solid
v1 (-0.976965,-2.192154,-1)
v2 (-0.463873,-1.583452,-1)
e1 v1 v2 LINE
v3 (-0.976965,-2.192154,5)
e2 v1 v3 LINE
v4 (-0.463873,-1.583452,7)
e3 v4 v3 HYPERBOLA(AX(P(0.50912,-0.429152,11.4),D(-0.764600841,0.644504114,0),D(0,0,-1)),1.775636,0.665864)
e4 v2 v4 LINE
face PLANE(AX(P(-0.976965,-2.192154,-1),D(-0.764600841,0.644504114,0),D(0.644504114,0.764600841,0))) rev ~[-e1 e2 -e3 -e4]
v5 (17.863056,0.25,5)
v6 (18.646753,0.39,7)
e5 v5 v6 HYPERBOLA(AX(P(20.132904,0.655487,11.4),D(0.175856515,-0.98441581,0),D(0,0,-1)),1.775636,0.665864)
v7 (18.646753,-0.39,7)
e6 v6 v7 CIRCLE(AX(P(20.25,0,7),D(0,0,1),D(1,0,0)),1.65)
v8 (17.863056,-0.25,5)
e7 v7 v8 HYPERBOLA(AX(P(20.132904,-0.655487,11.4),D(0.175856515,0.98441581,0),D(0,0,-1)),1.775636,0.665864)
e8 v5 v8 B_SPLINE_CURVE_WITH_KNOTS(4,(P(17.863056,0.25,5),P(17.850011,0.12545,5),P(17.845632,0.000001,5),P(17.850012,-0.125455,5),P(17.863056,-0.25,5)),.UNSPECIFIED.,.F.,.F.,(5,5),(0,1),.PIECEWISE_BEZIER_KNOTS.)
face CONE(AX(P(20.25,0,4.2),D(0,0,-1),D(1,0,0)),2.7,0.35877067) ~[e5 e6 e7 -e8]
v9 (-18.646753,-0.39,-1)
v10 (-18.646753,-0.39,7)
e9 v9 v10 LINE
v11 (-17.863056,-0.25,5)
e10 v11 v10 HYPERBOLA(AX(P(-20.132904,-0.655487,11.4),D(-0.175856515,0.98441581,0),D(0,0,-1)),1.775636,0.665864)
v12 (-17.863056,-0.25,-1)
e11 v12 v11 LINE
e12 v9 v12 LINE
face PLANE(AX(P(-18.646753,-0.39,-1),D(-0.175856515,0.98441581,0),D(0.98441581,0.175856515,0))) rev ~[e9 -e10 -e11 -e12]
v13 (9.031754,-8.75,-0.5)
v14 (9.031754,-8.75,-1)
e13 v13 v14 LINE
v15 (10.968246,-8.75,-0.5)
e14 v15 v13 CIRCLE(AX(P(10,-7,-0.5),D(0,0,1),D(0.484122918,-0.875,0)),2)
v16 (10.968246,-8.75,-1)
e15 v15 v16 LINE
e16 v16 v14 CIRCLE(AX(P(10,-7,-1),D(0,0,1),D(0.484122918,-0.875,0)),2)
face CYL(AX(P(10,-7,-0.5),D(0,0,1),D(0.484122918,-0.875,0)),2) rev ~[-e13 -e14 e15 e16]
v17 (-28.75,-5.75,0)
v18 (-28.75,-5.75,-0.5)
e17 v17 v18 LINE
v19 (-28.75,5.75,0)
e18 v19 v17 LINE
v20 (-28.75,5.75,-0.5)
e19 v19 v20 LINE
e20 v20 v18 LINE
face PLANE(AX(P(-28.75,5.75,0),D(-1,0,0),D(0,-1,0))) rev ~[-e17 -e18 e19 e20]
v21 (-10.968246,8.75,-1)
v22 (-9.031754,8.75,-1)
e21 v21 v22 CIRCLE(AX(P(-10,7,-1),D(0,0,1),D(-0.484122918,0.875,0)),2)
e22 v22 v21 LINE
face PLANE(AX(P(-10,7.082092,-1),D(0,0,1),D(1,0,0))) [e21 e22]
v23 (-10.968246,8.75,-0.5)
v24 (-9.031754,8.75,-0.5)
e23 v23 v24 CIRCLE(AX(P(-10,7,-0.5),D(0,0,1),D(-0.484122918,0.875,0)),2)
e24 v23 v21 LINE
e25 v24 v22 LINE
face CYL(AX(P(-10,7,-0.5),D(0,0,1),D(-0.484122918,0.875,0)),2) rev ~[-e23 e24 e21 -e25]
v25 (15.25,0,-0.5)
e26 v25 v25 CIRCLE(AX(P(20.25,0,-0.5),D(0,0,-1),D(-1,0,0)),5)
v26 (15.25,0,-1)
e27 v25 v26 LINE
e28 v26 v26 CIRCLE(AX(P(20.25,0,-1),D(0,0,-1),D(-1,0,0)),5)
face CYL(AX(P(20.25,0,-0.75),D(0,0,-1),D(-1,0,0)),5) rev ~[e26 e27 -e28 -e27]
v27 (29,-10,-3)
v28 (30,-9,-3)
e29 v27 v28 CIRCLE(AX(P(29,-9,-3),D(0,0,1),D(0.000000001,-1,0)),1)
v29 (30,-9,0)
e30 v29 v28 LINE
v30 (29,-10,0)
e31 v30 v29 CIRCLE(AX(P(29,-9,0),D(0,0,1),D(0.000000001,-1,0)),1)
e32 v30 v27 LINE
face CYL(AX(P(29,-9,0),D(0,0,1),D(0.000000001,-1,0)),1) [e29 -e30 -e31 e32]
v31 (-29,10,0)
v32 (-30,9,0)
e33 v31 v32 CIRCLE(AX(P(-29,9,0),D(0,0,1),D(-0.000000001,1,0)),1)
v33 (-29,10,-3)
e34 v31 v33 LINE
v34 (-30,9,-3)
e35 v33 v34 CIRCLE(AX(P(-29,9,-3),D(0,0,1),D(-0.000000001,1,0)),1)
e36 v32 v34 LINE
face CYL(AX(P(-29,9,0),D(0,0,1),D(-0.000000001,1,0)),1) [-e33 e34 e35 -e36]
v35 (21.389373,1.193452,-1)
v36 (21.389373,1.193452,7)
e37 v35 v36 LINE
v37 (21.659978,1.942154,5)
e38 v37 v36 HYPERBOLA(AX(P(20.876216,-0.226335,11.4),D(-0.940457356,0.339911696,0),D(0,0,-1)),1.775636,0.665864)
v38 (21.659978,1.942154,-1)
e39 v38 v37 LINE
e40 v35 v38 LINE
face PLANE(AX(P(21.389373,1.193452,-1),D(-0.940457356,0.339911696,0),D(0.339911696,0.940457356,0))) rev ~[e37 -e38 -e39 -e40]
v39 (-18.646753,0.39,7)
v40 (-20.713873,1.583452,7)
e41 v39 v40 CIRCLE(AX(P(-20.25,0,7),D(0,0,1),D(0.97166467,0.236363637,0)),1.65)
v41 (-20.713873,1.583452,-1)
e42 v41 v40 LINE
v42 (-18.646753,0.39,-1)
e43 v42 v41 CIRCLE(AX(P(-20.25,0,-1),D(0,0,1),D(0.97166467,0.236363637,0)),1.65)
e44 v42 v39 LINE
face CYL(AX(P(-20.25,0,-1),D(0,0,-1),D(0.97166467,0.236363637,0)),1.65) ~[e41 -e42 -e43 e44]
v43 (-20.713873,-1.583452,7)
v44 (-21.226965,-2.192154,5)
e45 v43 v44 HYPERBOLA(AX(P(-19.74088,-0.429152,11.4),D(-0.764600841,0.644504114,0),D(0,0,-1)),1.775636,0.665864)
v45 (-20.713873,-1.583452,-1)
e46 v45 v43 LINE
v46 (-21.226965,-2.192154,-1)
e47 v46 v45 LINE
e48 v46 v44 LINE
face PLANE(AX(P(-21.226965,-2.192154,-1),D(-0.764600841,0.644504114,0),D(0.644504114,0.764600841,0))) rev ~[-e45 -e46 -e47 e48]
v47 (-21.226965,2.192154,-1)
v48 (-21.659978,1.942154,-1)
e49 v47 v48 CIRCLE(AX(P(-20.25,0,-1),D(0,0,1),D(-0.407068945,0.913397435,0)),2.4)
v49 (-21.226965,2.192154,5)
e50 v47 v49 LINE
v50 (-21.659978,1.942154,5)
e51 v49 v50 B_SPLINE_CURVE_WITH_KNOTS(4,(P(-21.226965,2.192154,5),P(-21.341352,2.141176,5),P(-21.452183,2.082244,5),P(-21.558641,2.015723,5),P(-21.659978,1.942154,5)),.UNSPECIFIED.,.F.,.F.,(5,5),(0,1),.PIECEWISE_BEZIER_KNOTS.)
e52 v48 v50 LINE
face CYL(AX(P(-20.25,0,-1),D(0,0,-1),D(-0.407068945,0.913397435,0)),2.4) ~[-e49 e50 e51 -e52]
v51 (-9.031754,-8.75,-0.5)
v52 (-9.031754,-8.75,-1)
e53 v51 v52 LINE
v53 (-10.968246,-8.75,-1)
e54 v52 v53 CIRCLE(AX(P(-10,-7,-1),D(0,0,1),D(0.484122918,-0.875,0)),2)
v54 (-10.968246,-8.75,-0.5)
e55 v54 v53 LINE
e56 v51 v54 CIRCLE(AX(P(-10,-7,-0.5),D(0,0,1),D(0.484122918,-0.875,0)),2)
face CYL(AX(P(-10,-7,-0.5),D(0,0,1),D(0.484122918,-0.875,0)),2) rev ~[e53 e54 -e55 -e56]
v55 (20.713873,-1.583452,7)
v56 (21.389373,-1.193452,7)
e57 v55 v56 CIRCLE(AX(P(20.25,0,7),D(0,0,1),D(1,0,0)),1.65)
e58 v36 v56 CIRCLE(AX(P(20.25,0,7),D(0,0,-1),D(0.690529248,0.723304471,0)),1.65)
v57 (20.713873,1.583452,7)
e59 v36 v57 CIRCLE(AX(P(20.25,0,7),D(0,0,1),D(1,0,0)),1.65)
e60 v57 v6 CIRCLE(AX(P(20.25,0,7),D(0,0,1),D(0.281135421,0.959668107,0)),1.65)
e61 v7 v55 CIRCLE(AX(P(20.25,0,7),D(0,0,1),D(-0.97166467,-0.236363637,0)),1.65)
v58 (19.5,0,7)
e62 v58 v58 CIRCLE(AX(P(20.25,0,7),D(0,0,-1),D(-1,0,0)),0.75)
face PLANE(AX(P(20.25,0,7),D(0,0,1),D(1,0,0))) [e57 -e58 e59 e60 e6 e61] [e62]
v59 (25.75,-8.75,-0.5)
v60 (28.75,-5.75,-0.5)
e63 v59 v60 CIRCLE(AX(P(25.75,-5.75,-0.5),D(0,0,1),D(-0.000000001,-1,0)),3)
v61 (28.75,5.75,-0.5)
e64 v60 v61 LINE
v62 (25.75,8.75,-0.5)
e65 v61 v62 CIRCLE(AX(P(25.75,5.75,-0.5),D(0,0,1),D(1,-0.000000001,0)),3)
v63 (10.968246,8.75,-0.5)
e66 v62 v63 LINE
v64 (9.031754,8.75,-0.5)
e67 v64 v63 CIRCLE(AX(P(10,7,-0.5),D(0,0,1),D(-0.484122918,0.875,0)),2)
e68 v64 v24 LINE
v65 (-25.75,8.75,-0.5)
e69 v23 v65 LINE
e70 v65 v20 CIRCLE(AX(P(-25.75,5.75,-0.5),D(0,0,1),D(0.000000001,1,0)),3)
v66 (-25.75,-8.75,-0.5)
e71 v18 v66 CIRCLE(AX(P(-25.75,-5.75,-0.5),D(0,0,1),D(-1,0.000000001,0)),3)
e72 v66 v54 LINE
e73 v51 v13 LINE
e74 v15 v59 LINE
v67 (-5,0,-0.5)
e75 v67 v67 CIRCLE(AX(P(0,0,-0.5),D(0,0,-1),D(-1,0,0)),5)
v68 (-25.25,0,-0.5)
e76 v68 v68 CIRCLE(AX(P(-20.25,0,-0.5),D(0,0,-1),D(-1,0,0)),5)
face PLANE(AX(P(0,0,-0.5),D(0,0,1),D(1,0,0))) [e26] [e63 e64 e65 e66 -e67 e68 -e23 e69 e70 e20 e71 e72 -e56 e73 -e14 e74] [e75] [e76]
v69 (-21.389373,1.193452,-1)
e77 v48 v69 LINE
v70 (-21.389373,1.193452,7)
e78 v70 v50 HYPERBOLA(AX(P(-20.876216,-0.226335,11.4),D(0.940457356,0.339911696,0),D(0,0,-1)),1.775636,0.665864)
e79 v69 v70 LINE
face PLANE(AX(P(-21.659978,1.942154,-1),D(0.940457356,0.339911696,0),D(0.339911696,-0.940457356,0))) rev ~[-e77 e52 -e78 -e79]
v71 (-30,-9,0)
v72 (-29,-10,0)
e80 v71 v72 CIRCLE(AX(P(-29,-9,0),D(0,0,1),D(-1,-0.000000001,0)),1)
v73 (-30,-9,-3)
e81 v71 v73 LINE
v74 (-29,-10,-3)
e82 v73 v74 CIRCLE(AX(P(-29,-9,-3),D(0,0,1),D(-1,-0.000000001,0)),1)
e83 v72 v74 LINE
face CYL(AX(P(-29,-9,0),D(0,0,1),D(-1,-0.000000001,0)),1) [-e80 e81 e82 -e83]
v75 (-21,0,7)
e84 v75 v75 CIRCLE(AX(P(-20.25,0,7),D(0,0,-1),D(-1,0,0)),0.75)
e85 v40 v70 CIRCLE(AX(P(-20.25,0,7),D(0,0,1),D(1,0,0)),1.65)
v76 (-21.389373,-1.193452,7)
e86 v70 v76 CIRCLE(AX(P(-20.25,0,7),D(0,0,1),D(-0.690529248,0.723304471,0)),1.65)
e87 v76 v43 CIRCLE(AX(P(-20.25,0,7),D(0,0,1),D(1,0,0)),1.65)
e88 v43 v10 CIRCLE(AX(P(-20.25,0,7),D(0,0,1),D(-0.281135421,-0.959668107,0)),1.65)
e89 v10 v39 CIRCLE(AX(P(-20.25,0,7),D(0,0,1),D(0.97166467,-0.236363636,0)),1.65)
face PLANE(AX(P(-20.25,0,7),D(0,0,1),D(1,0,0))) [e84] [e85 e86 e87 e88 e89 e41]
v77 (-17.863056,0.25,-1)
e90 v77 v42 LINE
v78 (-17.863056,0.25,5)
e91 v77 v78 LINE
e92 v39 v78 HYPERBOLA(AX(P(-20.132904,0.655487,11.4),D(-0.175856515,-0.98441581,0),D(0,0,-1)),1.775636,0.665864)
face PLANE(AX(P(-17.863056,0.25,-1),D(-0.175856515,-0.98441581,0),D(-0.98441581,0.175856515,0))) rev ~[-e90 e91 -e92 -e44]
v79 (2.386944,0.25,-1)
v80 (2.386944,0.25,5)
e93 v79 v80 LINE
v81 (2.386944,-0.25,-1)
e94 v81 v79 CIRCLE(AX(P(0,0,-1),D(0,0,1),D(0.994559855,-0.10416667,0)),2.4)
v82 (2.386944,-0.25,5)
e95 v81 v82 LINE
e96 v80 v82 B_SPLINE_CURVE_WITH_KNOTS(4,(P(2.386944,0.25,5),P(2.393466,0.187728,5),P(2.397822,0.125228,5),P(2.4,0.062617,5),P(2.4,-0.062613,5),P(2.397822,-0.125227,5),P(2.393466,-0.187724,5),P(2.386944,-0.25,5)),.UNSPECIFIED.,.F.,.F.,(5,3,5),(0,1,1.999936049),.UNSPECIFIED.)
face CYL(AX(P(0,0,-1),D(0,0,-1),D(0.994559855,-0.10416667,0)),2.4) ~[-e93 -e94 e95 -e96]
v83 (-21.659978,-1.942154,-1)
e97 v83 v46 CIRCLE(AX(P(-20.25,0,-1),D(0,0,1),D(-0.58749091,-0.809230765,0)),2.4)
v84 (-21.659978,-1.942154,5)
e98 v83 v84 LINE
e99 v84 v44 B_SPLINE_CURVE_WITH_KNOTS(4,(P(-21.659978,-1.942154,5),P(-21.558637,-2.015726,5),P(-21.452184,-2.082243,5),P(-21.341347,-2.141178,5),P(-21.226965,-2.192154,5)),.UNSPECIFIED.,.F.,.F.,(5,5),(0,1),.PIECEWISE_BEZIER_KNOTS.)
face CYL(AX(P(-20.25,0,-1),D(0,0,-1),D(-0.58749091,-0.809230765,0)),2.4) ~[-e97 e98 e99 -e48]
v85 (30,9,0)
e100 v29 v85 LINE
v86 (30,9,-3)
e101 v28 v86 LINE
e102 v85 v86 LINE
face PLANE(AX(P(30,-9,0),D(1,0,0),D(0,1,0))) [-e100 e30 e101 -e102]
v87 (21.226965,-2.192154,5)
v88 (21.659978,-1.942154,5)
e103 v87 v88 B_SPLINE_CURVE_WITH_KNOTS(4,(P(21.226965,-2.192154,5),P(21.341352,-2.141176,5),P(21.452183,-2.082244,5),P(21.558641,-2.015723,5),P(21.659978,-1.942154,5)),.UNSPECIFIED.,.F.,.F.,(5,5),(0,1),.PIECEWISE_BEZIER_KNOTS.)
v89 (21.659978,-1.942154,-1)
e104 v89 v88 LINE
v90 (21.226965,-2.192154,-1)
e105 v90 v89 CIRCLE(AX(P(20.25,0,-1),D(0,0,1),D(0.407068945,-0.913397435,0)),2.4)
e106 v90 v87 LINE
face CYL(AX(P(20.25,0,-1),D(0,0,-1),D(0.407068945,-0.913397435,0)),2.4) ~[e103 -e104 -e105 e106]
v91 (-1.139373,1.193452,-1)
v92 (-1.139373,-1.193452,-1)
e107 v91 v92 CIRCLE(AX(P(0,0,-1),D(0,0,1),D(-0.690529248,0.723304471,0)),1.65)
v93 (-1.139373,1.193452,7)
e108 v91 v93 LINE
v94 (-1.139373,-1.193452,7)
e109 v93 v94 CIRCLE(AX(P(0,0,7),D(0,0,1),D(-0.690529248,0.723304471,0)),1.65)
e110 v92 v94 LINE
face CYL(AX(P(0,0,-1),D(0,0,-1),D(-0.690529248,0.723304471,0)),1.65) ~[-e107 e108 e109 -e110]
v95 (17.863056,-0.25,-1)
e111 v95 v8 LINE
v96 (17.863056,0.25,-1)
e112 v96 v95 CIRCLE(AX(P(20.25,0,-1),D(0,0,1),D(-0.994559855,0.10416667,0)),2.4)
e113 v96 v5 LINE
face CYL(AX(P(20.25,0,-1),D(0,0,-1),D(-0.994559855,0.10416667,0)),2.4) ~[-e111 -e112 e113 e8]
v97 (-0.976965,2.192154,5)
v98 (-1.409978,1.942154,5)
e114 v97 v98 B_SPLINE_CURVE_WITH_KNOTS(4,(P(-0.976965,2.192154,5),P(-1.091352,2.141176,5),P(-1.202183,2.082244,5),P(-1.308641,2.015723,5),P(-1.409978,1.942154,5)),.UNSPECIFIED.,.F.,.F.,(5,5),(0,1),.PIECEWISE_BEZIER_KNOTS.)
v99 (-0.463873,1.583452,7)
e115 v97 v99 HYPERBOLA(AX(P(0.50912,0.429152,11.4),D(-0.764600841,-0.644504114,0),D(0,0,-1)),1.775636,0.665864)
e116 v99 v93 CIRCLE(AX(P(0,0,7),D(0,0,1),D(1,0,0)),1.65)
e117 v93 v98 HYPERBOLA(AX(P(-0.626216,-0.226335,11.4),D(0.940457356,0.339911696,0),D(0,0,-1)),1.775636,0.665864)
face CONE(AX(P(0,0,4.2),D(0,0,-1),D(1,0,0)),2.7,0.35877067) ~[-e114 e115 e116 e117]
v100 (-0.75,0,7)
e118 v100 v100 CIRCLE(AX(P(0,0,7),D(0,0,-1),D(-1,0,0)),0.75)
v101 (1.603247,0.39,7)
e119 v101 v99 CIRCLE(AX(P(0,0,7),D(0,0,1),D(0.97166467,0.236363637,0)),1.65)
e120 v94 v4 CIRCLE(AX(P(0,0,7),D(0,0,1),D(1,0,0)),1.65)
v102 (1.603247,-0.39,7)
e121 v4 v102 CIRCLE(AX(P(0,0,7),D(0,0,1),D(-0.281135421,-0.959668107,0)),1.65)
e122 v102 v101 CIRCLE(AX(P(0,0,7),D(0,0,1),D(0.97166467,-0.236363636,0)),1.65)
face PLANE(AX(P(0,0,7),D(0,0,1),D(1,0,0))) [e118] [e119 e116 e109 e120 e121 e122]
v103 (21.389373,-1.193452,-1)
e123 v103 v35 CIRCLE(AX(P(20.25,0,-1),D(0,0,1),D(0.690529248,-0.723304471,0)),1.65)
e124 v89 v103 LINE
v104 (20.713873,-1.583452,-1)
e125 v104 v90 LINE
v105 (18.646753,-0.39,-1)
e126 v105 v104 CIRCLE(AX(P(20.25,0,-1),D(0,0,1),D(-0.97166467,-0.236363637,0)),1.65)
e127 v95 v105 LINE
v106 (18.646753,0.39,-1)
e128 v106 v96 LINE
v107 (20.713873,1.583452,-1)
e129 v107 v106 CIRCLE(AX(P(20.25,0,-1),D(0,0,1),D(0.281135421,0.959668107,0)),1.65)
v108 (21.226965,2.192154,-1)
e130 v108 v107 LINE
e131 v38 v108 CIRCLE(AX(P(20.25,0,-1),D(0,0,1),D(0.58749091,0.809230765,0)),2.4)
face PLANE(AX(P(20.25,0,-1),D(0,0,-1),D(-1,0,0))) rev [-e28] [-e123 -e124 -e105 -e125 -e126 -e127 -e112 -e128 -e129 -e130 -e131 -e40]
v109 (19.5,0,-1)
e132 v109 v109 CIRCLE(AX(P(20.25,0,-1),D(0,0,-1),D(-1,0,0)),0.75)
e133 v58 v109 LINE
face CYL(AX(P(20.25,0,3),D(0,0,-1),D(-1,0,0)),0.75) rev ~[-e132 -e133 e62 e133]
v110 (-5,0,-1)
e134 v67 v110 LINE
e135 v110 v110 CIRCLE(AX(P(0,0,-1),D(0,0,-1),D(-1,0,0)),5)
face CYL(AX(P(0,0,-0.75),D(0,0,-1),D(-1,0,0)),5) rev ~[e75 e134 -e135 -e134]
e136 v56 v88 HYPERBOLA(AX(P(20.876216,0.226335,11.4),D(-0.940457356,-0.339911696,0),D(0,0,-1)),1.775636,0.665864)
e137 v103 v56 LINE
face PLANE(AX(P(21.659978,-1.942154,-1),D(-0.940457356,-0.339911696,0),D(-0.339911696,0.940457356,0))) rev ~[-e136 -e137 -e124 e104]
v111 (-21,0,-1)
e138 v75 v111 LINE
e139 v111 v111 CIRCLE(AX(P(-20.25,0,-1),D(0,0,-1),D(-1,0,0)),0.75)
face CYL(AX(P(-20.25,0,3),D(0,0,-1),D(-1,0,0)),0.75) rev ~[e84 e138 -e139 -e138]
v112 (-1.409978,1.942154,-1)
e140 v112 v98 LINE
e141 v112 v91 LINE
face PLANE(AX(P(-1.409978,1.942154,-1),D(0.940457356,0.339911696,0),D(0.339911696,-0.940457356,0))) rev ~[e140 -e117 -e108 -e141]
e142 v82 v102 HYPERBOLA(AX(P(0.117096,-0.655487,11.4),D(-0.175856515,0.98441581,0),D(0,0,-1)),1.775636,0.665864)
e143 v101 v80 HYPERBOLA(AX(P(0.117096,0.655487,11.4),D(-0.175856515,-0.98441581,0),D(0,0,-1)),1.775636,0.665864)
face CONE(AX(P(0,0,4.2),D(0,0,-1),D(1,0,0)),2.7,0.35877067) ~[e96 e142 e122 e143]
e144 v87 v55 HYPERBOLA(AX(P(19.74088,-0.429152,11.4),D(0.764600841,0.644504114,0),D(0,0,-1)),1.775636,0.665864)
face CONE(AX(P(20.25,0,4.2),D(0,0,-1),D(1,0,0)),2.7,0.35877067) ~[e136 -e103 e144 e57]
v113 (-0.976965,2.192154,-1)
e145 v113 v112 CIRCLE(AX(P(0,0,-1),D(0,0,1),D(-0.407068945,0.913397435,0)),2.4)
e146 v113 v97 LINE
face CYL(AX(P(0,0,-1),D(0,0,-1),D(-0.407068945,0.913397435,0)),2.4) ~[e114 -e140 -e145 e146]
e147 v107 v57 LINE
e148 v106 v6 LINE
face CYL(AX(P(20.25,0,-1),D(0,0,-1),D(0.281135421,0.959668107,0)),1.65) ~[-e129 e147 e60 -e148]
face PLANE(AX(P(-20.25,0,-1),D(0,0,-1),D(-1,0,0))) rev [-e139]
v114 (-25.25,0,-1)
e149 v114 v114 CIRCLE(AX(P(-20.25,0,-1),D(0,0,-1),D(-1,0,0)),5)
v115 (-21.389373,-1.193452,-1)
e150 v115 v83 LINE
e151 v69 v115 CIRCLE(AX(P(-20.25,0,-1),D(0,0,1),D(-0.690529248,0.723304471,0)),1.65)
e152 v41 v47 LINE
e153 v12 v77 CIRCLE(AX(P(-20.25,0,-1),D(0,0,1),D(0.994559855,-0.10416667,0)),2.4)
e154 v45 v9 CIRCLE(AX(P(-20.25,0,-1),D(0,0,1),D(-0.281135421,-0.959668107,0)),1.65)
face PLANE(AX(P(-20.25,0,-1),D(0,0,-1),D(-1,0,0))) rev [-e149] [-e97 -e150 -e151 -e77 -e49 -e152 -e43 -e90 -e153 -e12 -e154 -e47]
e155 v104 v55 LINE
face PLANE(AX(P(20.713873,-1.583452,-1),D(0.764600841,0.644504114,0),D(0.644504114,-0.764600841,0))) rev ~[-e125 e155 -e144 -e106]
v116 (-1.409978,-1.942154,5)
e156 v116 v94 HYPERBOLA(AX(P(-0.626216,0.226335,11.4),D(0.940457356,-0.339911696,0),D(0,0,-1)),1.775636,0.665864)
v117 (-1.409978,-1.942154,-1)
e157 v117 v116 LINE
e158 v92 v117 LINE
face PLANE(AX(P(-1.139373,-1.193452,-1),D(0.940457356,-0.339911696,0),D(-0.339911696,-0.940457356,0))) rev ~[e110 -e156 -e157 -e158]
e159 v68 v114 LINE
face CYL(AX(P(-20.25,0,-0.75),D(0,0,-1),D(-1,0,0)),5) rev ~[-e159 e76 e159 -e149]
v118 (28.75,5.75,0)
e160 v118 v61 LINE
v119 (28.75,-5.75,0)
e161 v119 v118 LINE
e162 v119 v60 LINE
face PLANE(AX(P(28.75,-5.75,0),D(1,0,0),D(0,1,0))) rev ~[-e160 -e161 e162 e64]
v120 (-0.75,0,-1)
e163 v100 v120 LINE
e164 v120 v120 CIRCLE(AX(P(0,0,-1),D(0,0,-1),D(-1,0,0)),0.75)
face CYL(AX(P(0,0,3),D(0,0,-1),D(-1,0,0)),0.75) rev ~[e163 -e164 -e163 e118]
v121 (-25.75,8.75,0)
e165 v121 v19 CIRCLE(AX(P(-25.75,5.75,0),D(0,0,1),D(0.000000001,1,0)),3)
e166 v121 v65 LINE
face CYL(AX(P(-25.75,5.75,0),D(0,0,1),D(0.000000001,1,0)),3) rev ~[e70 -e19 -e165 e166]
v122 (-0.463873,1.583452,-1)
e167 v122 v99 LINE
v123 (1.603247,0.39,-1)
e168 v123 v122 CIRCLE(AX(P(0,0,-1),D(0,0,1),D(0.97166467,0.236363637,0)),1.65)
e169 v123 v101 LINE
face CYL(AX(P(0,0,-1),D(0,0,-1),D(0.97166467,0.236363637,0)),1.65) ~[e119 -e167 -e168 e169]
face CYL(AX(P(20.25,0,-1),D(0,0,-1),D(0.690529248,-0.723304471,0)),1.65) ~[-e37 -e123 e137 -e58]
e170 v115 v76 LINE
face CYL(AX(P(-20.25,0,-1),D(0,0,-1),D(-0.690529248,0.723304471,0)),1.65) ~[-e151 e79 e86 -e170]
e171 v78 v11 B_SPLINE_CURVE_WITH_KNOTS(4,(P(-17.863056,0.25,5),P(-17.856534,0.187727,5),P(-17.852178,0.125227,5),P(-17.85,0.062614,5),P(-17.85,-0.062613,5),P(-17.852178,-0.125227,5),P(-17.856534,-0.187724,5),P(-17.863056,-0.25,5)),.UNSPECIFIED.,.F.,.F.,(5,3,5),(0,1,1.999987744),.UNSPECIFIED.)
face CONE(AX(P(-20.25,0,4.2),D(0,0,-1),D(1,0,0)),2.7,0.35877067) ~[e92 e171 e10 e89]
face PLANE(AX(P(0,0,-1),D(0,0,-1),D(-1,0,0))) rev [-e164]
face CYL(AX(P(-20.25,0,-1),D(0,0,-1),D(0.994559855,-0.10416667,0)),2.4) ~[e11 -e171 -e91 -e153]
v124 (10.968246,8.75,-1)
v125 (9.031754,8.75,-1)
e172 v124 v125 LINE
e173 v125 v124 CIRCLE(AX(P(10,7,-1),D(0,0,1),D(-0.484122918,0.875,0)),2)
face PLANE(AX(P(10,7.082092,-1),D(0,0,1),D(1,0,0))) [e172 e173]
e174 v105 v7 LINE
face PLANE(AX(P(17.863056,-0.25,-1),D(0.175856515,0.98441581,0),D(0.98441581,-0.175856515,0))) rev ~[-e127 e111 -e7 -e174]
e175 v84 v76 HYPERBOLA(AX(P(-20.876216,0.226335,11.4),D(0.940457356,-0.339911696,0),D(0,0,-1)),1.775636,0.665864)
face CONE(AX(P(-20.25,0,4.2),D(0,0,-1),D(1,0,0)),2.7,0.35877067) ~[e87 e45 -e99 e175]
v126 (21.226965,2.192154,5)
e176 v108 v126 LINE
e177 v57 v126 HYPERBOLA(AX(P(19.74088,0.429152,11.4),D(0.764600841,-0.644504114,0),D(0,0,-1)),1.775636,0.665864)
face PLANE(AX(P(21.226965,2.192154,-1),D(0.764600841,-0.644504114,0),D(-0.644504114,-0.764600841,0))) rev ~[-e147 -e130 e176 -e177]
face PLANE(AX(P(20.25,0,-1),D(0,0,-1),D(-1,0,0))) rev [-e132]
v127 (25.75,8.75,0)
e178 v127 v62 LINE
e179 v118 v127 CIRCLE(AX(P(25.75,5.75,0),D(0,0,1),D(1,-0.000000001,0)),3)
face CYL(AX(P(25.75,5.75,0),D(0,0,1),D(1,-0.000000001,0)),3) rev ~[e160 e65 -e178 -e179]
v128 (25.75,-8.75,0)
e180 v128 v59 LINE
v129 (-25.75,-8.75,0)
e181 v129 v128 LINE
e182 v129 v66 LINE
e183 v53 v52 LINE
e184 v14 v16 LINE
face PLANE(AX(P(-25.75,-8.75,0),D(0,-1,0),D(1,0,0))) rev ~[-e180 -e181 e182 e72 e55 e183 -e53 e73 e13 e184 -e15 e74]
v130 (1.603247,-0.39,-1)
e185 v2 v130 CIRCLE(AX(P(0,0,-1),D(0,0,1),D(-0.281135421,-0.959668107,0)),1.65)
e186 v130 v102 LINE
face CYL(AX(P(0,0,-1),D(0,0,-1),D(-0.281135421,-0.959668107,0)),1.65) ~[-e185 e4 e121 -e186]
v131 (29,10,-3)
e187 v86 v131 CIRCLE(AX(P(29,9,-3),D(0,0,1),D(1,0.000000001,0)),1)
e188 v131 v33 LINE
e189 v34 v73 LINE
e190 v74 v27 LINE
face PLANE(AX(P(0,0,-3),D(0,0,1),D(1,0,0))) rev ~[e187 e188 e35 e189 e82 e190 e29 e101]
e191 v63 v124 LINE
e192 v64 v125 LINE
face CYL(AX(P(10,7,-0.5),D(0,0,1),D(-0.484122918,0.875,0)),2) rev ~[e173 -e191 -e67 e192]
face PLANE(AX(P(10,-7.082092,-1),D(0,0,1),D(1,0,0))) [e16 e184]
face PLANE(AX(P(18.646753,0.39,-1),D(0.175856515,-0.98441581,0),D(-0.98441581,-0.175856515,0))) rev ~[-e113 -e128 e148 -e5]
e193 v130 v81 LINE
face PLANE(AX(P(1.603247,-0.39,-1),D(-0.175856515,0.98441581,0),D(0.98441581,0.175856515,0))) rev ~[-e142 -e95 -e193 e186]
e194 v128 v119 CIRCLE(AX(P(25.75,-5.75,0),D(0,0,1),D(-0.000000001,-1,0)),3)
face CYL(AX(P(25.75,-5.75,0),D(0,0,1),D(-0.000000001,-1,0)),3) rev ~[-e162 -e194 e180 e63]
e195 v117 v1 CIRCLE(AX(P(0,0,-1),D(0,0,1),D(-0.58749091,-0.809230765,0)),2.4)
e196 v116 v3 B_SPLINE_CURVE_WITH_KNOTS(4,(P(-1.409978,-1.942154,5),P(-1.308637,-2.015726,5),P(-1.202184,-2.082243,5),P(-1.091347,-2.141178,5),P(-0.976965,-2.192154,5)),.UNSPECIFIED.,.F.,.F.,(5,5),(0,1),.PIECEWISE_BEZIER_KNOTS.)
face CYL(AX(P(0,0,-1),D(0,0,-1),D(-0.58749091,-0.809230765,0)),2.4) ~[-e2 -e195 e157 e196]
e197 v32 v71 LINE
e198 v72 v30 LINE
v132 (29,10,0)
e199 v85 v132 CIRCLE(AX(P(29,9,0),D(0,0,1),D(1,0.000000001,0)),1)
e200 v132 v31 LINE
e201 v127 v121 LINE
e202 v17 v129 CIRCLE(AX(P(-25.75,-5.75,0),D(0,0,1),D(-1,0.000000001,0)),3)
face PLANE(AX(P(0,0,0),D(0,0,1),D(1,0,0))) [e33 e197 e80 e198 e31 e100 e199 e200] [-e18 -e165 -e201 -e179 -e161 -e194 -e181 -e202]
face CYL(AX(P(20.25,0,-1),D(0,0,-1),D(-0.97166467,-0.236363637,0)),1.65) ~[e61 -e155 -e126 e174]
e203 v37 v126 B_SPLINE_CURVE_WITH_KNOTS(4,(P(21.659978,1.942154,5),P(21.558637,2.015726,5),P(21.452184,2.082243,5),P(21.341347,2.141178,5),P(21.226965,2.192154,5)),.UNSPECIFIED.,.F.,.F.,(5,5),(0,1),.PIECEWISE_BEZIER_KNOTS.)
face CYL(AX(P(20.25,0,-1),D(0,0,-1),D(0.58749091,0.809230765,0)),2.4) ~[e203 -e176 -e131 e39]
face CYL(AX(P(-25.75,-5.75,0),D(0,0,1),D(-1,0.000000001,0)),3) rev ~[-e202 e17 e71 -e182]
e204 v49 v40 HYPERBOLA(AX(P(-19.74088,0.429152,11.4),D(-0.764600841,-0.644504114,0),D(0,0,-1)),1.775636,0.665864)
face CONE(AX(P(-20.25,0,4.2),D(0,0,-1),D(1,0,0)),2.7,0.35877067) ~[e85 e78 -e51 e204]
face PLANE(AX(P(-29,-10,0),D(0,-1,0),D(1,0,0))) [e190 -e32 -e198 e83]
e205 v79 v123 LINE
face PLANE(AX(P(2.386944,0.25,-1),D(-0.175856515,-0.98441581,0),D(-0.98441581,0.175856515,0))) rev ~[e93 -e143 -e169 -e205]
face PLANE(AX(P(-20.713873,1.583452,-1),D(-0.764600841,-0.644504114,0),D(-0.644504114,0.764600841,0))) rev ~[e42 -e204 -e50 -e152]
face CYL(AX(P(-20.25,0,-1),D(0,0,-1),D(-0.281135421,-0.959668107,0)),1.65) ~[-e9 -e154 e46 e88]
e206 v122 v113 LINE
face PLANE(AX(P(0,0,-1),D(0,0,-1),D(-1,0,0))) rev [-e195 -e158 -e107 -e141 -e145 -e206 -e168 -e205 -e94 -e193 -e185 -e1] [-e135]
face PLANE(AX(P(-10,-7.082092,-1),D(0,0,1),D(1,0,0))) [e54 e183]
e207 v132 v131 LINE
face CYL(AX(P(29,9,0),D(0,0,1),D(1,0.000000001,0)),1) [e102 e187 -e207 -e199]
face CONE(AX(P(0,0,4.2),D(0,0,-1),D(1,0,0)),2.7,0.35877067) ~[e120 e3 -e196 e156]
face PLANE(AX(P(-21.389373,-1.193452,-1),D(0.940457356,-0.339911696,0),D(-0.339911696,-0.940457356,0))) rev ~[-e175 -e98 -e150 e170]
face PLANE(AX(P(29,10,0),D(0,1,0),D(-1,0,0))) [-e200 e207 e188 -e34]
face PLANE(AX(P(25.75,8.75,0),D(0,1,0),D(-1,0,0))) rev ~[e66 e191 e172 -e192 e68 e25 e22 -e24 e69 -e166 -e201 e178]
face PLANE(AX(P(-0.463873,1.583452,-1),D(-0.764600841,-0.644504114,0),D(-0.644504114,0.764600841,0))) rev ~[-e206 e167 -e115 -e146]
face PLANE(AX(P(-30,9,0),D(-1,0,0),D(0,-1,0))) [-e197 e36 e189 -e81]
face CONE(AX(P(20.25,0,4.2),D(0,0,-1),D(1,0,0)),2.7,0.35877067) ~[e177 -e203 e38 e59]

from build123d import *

# Parameters (mm, degrees)
BOSS_EXTRUDE1_DEPTH = 3
CUT_EXTRUDE1_DEPTH  = 0.5
SKETCH3_W           = 5
SKETCH3_H           = 0.5
SKETCH4_W           = 5
SKETCH4_H           = 0.5
SKETCH5_W           = 5
SKETCH5_H           = 0.5
CUT_EXTRUDE2_DEPTH  = 0.5
CUT_EXTRUDE3_DEPTH  = 0.5
CUT_EXTRUDE4_DEPTH  = 0.5
CUT_EXTRUDE5_DEPTH  = 0.5
BOSS_EXTRUDE2_DEPTH = 8
BOSS_EXTRUDE3_DEPTH = 8
BOSS_EXTRUDE4_DEPTH = 8
SKETCH16_W          = 0.75
SKETCH16_H          = 8
SKETCH17_W          = 0.75
SKETCH17_H          = 8
SKETCH18_W          = 0.75
SKETCH18_H          = 8


with BuildPart() as part:
    # Sketch1 → Boss-Extrude1 (new body)
    with BuildSketch(Plane.XY):
        with BuildLine():
            Line((-29, -10), (29, -10))
            ThreePointArc((29, -10), (29.707106781, -9.707106781), (30, -9))
            Line((30, -9), (30, 9))
            ThreePointArc((30, 9), (29.707106781, 9.707106781), (29, 10))
            Line((29, 10), (-29, 10))
            ThreePointArc((-29, 10), (-29.707106781, 9.707106781), (-30, 9))
            Line((-30, 9), (-30, -9))
            ThreePointArc((-30, -9), (-29.707106781, -9.707106781), (-29, -10))
        make_face()
    extrude(amount=-BOSS_EXTRUDE1_DEPTH)

    # Sketch2 → Cut-Extrude1 (cut)
    with BuildSketch(Plane.XY):
        with BuildLine():
            Line((-25.75, -8.75), (25.75, -8.75))
            ThreePointArc((25.75, -8.75), (27.871320344, -7.871320344), (28.75, -5.75))
            Line((28.75, -5.75), (28.75, 5.75))
            ThreePointArc((28.75, 5.75), (27.871320344, 7.871320344), (25.75, 8.75))
            Line((25.75, 8.75), (-25.75, 8.75))
            ThreePointArc((-25.75, 8.75), (-27.871320344, 7.871320344), (-28.75, 5.75))
            Line((-28.75, 5.75), (-28.75, -5.75))
            ThreePointArc((-28.75, -5.75), (-27.871320344, -7.871320344), (-25.75, -8.75))
        make_face()
    extrude(amount=-CUT_EXTRUDE1_DEPTH, mode=Mode.SUBTRACT)

    # Sketch3 → Cut-Revolve1 (revolve, cut)
    with BuildSketch(Plane(origin=(0, 0, 0), x_dir=(1, 0, 0), z_dir=(0, 1, 0)), mode=Mode.PRIVATE) as cut_revolve1_sk:
        with Locations((-17.75, 0.75)):
            Rectangle(SKETCH3_W, SKETCH3_H)
    revolve(cut_revolve1_sk.sketch.rotate(Axis((-20.25, 0, -0.5), (0, 0, -1)), 180), axis=Axis((-20.25, 0, -0.5), (0, 0, -1)), mode=Mode.SUBTRACT)

    # Sketch4 → Cut-Revolve2 (revolve, cut)
    with BuildSketch(Plane(origin=(0, 0, 0), x_dir=(1, 0, 0), z_dir=(0, 1, 0)), mode=Mode.PRIVATE) as cut_revolve2_sk:
        with Locations((2.5, 0.75)):
            Rectangle(SKETCH4_W, SKETCH4_H)
    revolve(cut_revolve2_sk.sketch.rotate(Axis((0, 0, -0.5), (0, 0, -1)), 180), axis=Axis((0, 0, -0.5), (0, 0, -1)), mode=Mode.SUBTRACT)

    # Sketch5 → Cut-Revolve3 (revolve, cut)
    with BuildSketch(Plane(origin=(0, 0, 0), x_dir=(1, 0, 0), z_dir=(0, 1, 0)), mode=Mode.PRIVATE) as cut_revolve3_sk:
        with Locations((22.75, 0.75)):
            Rectangle(SKETCH5_W, SKETCH5_H)
    revolve(cut_revolve3_sk.sketch.rotate(Axis((20.25, 0, -0.5), (0, 0, -1)), 180), axis=Axis((20.25, 0, -0.5), (0, 0, -1)), mode=Mode.SUBTRACT)

    # Sketch6 → Cut-Extrude2 (cut)
    with BuildSketch(Plane.XY.offset(-0.5)):
        with BuildLine():
            Line((-9.031754163, 8.75), (-10.968245837, 8.75))
            ThreePointArc((-10.968245837, 8.75), (-10, 5), (-9.031754163, 8.75))
        make_face()
    extrude(amount=-CUT_EXTRUDE2_DEPTH, mode=Mode.SUBTRACT)

    # Sketch7 → Cut-Extrude3 (cut)
    with BuildSketch(Plane.XY.offset(-0.5)):
        with BuildLine():
            Line((10.968245837, 8.75), (9.031754163, 8.75))
            ThreePointArc((9.031754163, 8.75), (10, 5), (10.968245837, 8.75))
        make_face()
    extrude(amount=-CUT_EXTRUDE3_DEPTH, mode=Mode.SUBTRACT)

    # Sketch8 → Cut-Extrude4 (cut)
    with BuildSketch(Plane.XY.offset(-0.5)):
        with BuildLine():
            Line((-10.968245837, -8.75), (-9.031754163, -8.75))
            ThreePointArc((-9.031754163, -8.75), (-10, -5), (-10.968245837, -8.75))
        make_face()
    extrude(amount=-CUT_EXTRUDE4_DEPTH, mode=Mode.SUBTRACT)

    # Sketch9 → Cut-Extrude5 (cut)
    with BuildSketch(Plane.XY.offset(-0.5)):
        with BuildLine():
            Line((9.031754163, -8.75), (10.968245837, -8.75))
            ThreePointArc((10.968245837, -8.75), (10, -5), (9.031754163, -8.75))
        make_face()
    extrude(amount=-CUT_EXTRUDE5_DEPTH, mode=Mode.SUBTRACT)

    # Sketch10 → Boss-Extrude2 (add)
    with BuildSketch(Plane.XY.offset(-1)):
        with BuildLine():
            Line((-1.13937326, -1.193452376), (-1.409978177, -1.94215384))
            ThreePointArc((-1.409978177, -1.94215384), (-1.2, -2.078460969), (-0.976965475, -2.19215384))
            Line((-0.976965475, -2.19215384), (-0.463873445, -1.583452376))
            ThreePointArc((-0.463873445, -1.583452376), (0.825, -1.428941916), (1.603246706, -0.39))
            Line((1.603246706, -0.39), (2.386943652, -0.25))
            ThreePointArc((2.386943652, -0.25), (2.4, 0), (2.386943652, 0.25))
            Line((2.386943652, 0.25), (1.603246706, 0.39))
            ThreePointArc((1.603246706, 0.39), (0.825, 1.428941916), (-0.463873445, 1.583452376))
            Line((-0.463873445, 1.583452376), (-0.976965475, 2.19215384))
            ThreePointArc((-0.976965475, 2.19215384), (-1.2, 2.078460969), (-1.409978177, 1.94215384))
            Line((-1.409978177, 1.94215384), (-1.13937326, 1.193452376))
            ThreePointArc((-1.13937326, 1.193452376), (-1.65, 0), (-1.13937326, -1.193452376))
        make_face()
    extrude(amount=BOSS_EXTRUDE2_DEPTH)

    # Sketch11 → Boss-Extrude3 (add)
    with BuildSketch(Plane.XY.offset(-1)):
        with BuildLine():
            Line((-21.38937326, -1.193452376), (-21.659978177, -1.94215384))
            ThreePointArc((-21.659978177, -1.94215384), (-21.45, -2.078460969), (-21.226965475, -2.19215384))
            Line((-21.226965475, -2.19215384), (-20.713873445, -1.583452376))
            ThreePointArc((-20.713873445, -1.583452376), (-19.425, -1.428941916), (-18.646753294, -0.39))
            Line((-18.646753294, -0.39), (-17.863056348, -0.25))
            ThreePointArc((-17.863056348, -0.25), (-17.85, 0), (-17.863056348, 0.25))
            Line((-17.863056348, 0.25), (-18.646753294, 0.39))
            ThreePointArc((-18.646753294, 0.39), (-19.425, 1.428941916), (-20.713873445, 1.583452376))
            Line((-20.713873445, 1.583452376), (-21.226965475, 2.19215384))
            ThreePointArc((-21.226965475, 2.19215384), (-21.45, 2.078460969), (-21.659978177, 1.94215384))
            Line((-21.659978177, 1.94215384), (-21.38937326, 1.193452376))
            ThreePointArc((-21.38937326, 1.193452376), (-21.9, 0), (-21.38937326, -1.193452376))
        make_face()
    extrude(amount=BOSS_EXTRUDE3_DEPTH)

    # Sketch12 → Boss-Extrude4 (add)
    with BuildSketch(Plane.XY.offset(-1)):
        with BuildLine():
            Line((17.863056348, -0.25), (18.646753294, -0.39))
            ThreePointArc((18.646753294, -0.39), (19.425, -1.428941916), (20.713873445, -1.583452376))
            Line((20.713873445, -1.583452376), (21.226965475, -2.19215384))
            ThreePointArc((21.226965475, -2.19215384), (21.45, -2.078460969), (21.659978177, -1.94215384))
            Line((21.659978177, -1.94215384), (21.38937326, -1.193452376))
            ThreePointArc((21.38937326, -1.193452376), (21.9, 0), (21.38937326, 1.193452376))
            Line((21.38937326, 1.193452376), (21.659978177, 1.94215384))
            ThreePointArc((21.659978177, 1.94215384), (21.45, 2.078460969), (21.226965475, 2.19215384))
            Line((21.226965475, 2.19215384), (20.713873445, 1.583452376))
            ThreePointArc((20.713873445, 1.583452376), (19.425, 1.428941916), (18.646753294, 0.39))
            Line((18.646753294, 0.39), (17.863056348, 0.25))
            ThreePointArc((17.863056348, 0.25), (17.85, 0), (17.863056348, -0.25))
        make_face()
    extrude(amount=BOSS_EXTRUDE4_DEPTH)

    # Sketch13 → Cut-Revolve4 (revolve, cut)
    with BuildSketch(Plane(origin=(0, 0, 0), x_dir=(1, 0, 0), z_dir=(0, 1, 0))):
        Polygon((-18.7125, -7.3), (-17.55, -7.3), (-17.55, -4.2), align=None)
    revolve(axis=Axis((-20.25, 0, 50), (0, 0, -1)), mode=Mode.SUBTRACT)

    # Sketch14 → Cut-Revolve5 (revolve, cut)
    with BuildSketch(Plane(origin=(0, 0, 0), x_dir=(1, 0, 0), z_dir=(0, 1, 0))):
        Polygon((1.5375, -7.3), (2.7, -7.3), (2.7, -4.2), align=None)
    revolve(axis=Axis((0, 0, 50), (0, 0, -1)), mode=Mode.SUBTRACT)

    # Sketch15 → Cut-Revolve6 (revolve, cut)
    with BuildSketch(Plane(origin=(0, 0, 0), x_dir=(1, 0, 0), z_dir=(0, 1, 0))):
        Polygon((21.7875, -7.3), (22.95, -7.3), (22.95, -4.2), align=None)
    revolve(axis=Axis((20.25, 0, 50), (0, 0, -1)), mode=Mode.SUBTRACT)

    # Sketch16 → Cut-Revolve7 (revolve, cut)
    with BuildSketch(Plane(origin=(0, 0, 0), x_dir=(1, 0, 0), z_dir=(0, 1, 0)), mode=Mode.PRIVATE) as cut_revolve7_sk:
        with Locations((-19.875, -3)):
            Rectangle(SKETCH16_W, SKETCH16_H)
    revolve(cut_revolve7_sk.sketch.rotate(Axis((-20.25, 0, 7), (0, 0, -1)), 180), axis=Axis((-20.25, 0, 7), (0, 0, -1)), mode=Mode.SUBTRACT)

    # Sketch17 → Cut-Revolve8 (revolve, cut)
    with BuildSketch(Plane(origin=(0, 0, 0), x_dir=(1, 0, 0), z_dir=(0, 1, 0)), mode=Mode.PRIVATE) as cut_revolve8_sk:
        with Locations((0.375, -3)):
            Rectangle(SKETCH17_W, SKETCH17_H)
    revolve(cut_revolve8_sk.sketch.rotate(Axis((0, 0, 7), (0, 0, -1)), 180), axis=Axis((0, 0, 7), (0, 0, -1)), mode=Mode.SUBTRACT)

    # Sketch18 → Cut-Revolve9 (revolve, cut)
    with BuildSketch(Plane(origin=(0, 0, 0), x_dir=(1, 0, 0), z_dir=(0, 1, 0)), mode=Mode.PRIVATE) as cut_revolve9_sk:
        with Locations((20.625, -3)):
            Rectangle(SKETCH18_W, SKETCH18_H)
    revolve(cut_revolve9_sk.sketch.rotate(Axis((20.25, 0, 7), (0, 0, -1)), 180), axis=Axis((20.25, 0, 7), (0, 0, -1)), mode=Mode.SUBTRACT)


solid = part.part
